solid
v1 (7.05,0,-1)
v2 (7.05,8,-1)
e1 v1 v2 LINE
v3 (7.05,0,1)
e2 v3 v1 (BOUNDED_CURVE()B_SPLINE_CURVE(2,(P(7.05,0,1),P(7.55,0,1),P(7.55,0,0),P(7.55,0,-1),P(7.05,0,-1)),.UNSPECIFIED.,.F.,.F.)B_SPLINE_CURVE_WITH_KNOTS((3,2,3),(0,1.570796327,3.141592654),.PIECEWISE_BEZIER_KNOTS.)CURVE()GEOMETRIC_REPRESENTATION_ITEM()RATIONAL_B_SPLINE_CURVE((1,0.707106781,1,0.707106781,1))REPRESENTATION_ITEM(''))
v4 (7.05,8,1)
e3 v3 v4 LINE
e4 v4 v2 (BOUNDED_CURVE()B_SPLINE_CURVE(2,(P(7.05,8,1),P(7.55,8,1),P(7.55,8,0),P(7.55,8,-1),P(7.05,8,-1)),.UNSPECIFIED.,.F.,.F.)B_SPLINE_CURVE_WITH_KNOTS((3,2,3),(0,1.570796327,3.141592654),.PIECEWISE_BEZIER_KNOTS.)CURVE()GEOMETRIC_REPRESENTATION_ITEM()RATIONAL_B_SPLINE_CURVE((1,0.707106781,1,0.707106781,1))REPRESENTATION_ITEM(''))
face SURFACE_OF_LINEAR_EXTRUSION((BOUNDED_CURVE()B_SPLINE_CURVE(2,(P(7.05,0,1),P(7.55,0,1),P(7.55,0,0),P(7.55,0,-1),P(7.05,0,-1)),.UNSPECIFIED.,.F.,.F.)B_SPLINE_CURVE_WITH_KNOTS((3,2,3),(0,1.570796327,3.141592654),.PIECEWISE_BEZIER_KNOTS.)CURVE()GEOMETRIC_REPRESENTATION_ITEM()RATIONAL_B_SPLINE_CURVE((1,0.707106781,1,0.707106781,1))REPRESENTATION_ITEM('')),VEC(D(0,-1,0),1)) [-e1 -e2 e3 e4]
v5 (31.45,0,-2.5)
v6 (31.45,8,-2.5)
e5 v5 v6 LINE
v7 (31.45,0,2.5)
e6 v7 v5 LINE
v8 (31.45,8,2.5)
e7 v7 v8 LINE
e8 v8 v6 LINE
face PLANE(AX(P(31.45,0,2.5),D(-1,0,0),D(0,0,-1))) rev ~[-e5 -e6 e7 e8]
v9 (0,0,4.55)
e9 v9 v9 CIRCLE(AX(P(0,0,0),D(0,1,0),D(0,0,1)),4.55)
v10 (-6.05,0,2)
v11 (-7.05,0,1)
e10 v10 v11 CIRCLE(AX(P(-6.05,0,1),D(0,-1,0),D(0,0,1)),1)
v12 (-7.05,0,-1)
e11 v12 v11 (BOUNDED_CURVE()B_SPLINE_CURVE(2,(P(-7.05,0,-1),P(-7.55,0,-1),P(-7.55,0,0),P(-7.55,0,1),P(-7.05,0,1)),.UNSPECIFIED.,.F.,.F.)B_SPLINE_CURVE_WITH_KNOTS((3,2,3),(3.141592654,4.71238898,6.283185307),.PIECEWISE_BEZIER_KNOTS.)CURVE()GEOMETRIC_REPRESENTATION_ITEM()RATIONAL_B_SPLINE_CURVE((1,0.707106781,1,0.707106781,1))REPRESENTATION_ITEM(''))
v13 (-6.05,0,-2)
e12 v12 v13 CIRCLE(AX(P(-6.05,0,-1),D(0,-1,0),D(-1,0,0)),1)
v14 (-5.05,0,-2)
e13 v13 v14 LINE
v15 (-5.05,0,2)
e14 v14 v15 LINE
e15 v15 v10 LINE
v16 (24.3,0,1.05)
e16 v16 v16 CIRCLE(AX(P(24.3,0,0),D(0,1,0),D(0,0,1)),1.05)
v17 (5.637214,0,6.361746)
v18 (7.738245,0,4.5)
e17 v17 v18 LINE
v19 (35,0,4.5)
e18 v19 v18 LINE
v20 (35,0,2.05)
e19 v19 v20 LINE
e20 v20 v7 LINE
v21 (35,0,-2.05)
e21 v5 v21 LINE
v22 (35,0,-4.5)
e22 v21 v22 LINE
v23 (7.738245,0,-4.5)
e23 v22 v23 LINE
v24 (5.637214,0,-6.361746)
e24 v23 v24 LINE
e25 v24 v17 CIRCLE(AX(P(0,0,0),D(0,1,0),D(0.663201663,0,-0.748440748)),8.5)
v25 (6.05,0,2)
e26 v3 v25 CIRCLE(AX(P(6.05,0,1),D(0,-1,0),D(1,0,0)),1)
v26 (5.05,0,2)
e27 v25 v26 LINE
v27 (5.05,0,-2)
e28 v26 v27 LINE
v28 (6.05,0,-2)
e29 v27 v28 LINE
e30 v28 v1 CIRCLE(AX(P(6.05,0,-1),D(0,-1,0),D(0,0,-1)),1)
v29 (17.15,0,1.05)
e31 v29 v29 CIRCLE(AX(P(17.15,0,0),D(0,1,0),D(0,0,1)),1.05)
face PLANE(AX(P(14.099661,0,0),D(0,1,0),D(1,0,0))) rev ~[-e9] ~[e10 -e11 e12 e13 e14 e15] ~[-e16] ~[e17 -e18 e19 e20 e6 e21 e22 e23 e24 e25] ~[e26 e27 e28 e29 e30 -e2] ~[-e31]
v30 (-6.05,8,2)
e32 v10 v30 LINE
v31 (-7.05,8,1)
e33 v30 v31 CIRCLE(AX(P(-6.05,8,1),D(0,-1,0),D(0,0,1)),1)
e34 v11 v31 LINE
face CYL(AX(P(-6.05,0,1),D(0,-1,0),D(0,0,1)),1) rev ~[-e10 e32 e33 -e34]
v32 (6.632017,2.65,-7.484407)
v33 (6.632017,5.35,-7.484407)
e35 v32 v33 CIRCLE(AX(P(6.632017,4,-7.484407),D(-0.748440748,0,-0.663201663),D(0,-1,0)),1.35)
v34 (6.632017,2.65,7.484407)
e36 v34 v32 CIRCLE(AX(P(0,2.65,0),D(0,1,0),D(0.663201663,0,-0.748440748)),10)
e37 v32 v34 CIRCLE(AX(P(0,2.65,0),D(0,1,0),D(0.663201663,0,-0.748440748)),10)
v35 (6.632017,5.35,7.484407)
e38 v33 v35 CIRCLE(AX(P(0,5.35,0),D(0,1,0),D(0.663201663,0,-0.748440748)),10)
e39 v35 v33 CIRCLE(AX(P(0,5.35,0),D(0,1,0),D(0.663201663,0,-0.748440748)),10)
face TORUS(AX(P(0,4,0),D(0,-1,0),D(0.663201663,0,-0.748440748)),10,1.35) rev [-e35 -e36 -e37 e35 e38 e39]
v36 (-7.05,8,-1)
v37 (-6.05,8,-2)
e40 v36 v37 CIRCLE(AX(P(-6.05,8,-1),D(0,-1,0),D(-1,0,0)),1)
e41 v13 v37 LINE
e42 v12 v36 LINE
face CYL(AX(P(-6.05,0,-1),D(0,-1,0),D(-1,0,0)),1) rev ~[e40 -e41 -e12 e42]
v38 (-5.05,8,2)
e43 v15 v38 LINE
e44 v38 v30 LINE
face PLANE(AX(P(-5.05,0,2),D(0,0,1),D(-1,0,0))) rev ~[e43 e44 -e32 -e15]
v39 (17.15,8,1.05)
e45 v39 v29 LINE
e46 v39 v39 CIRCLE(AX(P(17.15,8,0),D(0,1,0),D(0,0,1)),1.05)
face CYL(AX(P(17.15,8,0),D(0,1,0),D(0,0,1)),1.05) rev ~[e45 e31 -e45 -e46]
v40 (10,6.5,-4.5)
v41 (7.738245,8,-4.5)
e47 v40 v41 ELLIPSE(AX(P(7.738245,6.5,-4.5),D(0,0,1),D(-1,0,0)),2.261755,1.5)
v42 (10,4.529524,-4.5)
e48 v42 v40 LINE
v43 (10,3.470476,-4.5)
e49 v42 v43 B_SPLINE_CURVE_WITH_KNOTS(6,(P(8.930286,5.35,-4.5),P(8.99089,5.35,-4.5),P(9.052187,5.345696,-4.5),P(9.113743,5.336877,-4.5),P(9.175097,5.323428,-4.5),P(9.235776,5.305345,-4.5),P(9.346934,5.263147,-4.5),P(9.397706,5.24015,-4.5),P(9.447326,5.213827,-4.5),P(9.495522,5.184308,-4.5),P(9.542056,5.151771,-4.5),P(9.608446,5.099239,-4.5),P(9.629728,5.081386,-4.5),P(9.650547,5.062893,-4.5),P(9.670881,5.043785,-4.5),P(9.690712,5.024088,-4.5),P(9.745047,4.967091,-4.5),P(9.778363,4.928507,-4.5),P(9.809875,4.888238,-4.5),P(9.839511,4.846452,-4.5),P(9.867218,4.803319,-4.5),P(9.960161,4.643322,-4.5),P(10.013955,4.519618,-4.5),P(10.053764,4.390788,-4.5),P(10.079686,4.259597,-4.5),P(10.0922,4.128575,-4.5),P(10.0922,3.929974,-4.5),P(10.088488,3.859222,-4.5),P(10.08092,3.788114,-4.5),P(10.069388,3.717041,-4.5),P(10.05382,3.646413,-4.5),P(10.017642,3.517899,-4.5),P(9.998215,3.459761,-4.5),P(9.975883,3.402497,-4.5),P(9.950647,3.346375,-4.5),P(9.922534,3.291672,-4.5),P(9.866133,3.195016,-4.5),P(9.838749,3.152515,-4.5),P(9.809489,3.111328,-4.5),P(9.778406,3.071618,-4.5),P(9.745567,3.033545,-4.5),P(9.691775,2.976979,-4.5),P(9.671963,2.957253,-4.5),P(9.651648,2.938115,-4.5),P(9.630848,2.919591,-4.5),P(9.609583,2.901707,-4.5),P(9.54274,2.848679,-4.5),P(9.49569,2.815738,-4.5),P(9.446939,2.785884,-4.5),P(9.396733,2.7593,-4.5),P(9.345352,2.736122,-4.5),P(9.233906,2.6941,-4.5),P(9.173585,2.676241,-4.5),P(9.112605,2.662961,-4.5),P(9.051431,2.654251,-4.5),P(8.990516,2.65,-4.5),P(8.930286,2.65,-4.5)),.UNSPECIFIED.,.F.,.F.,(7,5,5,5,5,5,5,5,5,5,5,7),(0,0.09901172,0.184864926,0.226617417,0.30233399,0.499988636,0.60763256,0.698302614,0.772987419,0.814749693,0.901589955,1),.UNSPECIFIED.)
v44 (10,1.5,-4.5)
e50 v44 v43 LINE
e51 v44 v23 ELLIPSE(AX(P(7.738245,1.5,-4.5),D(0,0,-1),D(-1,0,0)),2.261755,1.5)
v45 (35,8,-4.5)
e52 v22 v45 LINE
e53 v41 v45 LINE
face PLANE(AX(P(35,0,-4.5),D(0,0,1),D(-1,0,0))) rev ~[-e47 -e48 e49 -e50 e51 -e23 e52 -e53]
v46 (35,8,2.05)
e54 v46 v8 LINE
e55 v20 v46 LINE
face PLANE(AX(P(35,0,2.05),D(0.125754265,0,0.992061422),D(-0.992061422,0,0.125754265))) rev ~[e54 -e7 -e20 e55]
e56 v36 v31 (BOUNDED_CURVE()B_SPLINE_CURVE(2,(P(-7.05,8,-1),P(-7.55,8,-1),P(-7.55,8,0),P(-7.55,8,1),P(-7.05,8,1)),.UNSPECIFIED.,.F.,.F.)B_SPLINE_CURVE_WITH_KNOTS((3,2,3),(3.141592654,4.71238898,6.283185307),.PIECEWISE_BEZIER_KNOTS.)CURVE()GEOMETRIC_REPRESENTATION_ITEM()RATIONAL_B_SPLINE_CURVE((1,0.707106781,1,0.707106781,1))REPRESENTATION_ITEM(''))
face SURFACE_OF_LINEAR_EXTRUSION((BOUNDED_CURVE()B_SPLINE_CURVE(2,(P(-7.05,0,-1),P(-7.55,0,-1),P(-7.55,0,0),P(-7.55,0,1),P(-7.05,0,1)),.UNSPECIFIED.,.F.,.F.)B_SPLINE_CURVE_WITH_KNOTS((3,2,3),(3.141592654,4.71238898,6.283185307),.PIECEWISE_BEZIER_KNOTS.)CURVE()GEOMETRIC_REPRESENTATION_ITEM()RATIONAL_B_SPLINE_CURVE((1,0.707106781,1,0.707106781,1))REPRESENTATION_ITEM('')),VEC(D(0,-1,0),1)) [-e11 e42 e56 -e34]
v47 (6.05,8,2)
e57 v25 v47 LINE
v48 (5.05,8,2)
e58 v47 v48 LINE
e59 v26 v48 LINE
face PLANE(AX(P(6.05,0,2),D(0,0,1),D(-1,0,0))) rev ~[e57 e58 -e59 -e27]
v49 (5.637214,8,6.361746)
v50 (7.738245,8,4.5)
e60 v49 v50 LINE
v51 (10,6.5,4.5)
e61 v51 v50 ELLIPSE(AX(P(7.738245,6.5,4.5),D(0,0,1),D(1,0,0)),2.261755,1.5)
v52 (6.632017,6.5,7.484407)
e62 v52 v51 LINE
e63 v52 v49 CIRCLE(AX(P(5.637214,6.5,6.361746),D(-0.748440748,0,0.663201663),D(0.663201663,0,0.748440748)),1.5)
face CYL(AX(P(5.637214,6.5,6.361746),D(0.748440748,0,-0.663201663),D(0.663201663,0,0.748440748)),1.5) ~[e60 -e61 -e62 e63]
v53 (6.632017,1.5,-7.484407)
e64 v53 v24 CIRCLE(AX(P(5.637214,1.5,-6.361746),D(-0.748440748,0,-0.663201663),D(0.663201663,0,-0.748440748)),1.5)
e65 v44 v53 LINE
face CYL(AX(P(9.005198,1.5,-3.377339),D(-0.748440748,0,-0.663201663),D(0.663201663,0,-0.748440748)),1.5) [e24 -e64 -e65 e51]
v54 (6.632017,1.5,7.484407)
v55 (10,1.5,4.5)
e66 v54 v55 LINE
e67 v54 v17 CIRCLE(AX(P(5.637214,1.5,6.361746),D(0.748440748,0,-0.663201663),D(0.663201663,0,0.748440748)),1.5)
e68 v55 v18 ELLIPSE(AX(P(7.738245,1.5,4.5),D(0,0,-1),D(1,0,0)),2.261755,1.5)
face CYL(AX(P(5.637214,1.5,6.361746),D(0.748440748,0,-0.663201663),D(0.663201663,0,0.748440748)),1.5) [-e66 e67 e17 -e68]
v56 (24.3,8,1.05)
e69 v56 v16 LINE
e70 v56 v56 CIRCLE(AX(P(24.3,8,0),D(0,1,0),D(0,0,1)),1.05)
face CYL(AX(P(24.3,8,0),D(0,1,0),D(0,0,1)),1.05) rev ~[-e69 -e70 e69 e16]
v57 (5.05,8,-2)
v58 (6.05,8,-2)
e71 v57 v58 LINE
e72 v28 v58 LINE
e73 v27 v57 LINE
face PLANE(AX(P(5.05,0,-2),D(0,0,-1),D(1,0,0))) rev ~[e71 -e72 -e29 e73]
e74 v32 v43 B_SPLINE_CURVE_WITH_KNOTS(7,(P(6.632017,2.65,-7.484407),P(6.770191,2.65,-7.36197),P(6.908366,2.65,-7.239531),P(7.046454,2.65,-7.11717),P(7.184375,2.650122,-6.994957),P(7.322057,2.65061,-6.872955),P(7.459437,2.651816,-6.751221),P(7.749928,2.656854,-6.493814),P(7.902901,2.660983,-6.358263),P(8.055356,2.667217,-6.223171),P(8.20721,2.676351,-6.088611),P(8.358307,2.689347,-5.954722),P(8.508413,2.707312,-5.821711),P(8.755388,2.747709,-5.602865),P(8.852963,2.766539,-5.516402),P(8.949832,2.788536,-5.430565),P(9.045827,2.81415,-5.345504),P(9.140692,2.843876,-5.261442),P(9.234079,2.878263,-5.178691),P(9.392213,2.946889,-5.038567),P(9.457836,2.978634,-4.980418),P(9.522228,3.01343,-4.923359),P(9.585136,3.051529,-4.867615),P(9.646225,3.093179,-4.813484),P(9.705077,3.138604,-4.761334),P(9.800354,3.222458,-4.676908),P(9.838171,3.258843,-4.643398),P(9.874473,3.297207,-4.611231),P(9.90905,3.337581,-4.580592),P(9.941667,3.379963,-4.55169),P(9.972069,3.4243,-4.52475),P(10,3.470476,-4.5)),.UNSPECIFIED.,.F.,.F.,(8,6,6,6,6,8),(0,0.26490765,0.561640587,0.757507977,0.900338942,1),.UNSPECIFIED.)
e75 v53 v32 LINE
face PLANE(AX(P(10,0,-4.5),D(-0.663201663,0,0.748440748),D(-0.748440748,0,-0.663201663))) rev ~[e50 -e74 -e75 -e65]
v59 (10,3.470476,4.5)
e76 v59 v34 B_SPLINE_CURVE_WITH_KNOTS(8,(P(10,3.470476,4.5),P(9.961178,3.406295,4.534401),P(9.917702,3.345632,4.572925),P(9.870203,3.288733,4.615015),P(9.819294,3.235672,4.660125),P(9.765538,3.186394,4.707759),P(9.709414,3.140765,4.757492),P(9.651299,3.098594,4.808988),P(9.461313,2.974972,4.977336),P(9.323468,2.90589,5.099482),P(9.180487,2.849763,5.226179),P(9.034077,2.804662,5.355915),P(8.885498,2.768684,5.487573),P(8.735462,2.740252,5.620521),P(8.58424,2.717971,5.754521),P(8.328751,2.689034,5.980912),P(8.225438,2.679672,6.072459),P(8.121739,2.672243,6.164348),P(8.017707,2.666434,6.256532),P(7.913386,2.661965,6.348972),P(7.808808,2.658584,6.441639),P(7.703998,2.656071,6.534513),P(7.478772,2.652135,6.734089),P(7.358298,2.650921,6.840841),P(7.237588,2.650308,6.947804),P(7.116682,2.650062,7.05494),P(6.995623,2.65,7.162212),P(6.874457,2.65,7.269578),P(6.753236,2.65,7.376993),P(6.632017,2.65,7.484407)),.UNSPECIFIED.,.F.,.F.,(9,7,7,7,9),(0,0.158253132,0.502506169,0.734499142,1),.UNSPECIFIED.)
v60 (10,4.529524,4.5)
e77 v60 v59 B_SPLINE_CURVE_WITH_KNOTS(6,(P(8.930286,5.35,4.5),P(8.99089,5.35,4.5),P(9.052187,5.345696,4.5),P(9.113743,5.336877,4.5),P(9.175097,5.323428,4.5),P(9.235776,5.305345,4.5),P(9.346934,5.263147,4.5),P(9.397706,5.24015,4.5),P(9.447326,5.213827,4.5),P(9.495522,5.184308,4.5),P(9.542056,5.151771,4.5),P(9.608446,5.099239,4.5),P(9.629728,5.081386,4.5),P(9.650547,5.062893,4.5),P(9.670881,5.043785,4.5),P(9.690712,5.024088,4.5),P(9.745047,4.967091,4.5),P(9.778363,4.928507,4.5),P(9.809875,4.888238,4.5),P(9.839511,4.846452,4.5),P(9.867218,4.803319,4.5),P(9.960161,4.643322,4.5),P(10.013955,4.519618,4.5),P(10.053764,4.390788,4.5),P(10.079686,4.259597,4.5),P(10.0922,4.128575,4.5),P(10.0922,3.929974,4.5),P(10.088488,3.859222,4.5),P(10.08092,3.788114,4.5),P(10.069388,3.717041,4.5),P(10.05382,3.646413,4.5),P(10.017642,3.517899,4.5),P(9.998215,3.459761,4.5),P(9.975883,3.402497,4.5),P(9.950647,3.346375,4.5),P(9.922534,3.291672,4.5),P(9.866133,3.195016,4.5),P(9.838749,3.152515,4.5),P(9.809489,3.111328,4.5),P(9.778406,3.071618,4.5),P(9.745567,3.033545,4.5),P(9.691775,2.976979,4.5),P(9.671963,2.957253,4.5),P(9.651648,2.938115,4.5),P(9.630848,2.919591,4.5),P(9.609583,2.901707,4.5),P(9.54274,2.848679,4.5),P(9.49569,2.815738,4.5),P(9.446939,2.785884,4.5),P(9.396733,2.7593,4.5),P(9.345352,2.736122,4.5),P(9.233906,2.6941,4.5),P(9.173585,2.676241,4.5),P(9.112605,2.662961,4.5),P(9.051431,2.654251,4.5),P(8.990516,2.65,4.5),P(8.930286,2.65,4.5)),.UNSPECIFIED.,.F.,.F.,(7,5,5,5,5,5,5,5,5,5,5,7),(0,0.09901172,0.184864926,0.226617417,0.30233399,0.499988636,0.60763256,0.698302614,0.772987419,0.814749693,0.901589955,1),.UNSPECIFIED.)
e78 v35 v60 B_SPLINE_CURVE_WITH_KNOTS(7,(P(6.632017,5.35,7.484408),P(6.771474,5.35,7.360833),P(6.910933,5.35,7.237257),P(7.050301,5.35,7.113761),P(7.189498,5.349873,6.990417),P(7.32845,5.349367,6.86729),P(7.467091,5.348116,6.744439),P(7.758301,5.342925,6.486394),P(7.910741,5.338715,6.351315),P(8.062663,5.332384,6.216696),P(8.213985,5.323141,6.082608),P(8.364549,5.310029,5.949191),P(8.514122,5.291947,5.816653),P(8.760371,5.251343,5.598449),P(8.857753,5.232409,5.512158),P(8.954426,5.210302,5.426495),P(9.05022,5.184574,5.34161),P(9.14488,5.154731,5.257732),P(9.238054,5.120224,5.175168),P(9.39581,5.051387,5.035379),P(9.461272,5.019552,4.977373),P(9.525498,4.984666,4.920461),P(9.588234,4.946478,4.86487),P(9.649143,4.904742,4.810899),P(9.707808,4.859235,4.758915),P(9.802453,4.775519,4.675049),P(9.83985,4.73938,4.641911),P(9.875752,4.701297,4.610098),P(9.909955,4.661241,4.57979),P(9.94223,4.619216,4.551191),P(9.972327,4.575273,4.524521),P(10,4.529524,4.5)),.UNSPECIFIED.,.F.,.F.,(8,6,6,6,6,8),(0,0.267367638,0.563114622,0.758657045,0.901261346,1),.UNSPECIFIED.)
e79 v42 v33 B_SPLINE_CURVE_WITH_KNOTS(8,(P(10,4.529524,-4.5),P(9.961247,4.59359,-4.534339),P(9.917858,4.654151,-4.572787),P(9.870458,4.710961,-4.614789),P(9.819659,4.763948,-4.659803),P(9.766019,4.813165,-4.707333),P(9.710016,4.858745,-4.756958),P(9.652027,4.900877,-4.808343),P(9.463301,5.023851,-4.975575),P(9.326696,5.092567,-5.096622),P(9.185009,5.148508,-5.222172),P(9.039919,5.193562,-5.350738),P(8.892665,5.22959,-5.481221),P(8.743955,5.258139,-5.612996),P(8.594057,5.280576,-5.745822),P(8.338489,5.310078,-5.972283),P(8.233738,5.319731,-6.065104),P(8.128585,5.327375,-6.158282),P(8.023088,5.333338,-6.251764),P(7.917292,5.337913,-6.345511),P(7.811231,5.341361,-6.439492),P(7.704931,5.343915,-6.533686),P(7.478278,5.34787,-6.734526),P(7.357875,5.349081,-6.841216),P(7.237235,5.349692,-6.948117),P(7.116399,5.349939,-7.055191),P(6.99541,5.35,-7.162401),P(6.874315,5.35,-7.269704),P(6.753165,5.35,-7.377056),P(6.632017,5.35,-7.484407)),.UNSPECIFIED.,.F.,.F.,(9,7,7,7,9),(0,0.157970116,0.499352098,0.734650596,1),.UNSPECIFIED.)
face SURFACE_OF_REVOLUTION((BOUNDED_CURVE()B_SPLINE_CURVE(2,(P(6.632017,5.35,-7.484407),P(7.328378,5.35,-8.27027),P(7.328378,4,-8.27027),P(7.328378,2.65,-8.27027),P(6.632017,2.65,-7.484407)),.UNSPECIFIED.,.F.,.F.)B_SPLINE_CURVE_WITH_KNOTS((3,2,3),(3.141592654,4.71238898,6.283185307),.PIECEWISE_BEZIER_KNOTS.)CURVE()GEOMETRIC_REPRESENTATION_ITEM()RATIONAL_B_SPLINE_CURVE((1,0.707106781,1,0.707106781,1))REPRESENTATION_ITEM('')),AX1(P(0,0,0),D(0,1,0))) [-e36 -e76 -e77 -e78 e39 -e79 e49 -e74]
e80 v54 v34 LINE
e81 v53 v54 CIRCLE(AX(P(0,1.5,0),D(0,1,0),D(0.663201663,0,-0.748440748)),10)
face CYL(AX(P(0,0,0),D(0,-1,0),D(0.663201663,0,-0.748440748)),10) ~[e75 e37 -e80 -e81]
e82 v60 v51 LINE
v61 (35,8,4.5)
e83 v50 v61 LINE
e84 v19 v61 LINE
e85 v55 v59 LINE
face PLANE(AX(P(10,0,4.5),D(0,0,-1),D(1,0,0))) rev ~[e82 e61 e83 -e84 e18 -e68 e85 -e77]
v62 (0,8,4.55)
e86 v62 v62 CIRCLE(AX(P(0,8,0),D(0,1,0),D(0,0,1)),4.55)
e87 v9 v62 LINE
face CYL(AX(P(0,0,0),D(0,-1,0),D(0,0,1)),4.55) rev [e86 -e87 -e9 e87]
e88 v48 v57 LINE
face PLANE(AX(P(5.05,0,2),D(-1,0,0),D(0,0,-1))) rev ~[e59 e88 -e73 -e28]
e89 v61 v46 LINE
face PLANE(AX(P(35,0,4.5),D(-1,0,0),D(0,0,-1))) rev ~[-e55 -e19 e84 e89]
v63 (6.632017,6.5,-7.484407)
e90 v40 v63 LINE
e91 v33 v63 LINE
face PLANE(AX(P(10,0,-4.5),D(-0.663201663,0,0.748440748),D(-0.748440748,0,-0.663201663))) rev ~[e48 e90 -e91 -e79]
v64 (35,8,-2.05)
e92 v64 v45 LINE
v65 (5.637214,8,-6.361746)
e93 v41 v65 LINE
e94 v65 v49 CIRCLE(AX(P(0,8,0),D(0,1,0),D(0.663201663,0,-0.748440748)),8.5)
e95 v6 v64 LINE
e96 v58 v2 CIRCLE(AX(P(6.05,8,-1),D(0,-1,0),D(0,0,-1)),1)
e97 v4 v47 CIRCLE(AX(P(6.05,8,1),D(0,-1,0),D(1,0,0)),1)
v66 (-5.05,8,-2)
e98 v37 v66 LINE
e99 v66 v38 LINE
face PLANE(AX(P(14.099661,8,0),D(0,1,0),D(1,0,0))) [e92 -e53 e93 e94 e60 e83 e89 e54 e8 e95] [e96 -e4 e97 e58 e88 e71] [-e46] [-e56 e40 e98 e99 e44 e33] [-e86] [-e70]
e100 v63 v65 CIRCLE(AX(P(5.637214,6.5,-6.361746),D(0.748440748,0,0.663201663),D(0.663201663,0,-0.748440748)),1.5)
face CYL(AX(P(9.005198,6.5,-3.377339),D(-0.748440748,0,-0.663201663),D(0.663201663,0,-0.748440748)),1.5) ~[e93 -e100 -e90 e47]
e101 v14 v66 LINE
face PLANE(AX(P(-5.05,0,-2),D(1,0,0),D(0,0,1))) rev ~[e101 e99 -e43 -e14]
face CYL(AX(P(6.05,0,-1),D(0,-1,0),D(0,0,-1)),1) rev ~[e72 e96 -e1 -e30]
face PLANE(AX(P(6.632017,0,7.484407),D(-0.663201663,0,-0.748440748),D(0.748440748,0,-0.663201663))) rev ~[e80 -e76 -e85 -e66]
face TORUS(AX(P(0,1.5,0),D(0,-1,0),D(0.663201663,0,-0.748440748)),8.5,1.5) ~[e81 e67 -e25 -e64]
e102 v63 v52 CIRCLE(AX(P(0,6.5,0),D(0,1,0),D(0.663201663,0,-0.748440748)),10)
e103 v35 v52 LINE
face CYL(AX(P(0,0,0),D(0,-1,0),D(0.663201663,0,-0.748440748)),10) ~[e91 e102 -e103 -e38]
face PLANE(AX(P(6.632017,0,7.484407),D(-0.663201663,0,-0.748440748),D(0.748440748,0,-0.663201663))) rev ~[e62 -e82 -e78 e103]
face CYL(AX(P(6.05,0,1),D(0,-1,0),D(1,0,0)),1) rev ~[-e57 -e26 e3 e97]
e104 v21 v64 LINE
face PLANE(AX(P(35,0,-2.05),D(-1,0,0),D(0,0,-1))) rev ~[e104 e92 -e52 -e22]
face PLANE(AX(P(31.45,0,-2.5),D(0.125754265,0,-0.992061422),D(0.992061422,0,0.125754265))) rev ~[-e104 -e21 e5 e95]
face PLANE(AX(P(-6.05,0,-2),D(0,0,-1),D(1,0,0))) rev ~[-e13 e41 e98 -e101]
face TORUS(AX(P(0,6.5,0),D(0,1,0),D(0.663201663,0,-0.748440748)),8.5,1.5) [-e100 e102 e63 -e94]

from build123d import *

# Parameters (mm, degrees)
SKETCH1_R           = 4.55
BOSS_EXTRUDE2_DEPTH = 8
FILLET2_R           = 1.5
SKETCH5_R           = 1.0499999999999987
CUT_EXTRUDE1_DEPTH  = 10


with BuildPart() as part:
    # Sketch1 → Boss-Extrude2 (new body)
    with BuildSketch(Plane(origin=(0, 0, 0), x_dir=(1, 0, 0), z_dir=(0, 1, 0))):
        with BuildLine():
            Line((9.999999999999998, 4.499999999999999), (6.632016632016632, 7.484407484407484))
            ThreePointArc((6.632016632016632, 7.484407484407484), (-10, 5.67e-15), (6.6320166320166285, -7.484407484407485))
            Line((6.6320166320166285, -7.484407484407485), (10, -4.500000000000002))
            Line((10, -4.500000000000002), (35, -4.500000000000001))
            Line((35, -4.500000000000001), (35, -2.0499999999999954))
            Line((35, -2.0499999999999954), (31.450000000000006, -2.5000000000000004))
            Line((31.450000000000006, -2.5000000000000004), (31.450000000000006, 2.4999999999999987))
            Line((31.450000000000006, 2.4999999999999987), (35, 2.0499999999999954))
            Line((35, 2.0499999999999954), (35, 4.499999999999999))
            Line((35, 4.499999999999999), (9.999999999999998, 4.499999999999999))
        make_face()
        with Locations(Location((0, 0, 0), (0, 0, 270))):
            Circle(SKETCH1_R, mode=Mode.SUBTRACT)
        with BuildLine():
            Line((5.050000000000003, 2.0000000000000013), (6.050000000000003, 2.0000000000000013))
            ThreePointArc((6.050000000000003, 2.0000000000000013), (6.75710678118655, 1.7071067811865483), (7.0500000000000025, 1.000000000000001))
            add(Edge.make_bspline(
                [(7.0500000000000025, -0.9999999999999968), (7.5500000000000025, -0.9999999999999982), (7.5500000000000025, 1.34e-15), (7.550000000000002, 1.0000000000000009), (7.0500000000000025, 1.000000000000001)],
                knots=[0, 0, 0, 1.5707963267948966, 1.5707963267948966, 3.141592653589793, 3.141592653589793, 3.141592653589793], degree=2, weights=[1, 0.7071067811865476, 1, 0.7071067811865476, 1]))
            ThreePointArc((7.0500000000000025, -0.9999999999999968), (6.75710678118655, -1.707106781186544), (6.050000000000004, -1.9999999999999971))
            Line((6.050000000000004, -1.9999999999999971), (5.050000000000004, -1.9999999999999978))
            Line((5.050000000000004, -1.9999999999999978), (5.050000000000003, 2.0000000000000013))
        make_face(mode=Mode.SUBTRACT)
        with BuildLine():
            Line((-5.050000000000001, -2), (-6.050000000000001, -2))
            ThreePointArc((-6.050000000000001, -2), (-6.757106781186548, -1.7071067811865477), (-7.050000000000001, -1.0000000000000002))
            add(Edge.make_bspline(
                [(-7.050000000000001, 0.9999999999999993), (-7.550000000000002, 0.9999999999999994), (-7.550000000000001, -3.6e-16), (-7.550000000000001, -1), (-7.050000000000001, -1.0000000000000002)],
                knots=[3.141592653589793, 3.141592653589793, 3.141592653589793, 4.71238898038469, 4.71238898038469, 6.283185307179586, 6.283185307179586, 6.283185307179586], degree=2, weights=[1, 0.7071067811865476, 1, 0.7071067811865476, 1]))
            ThreePointArc((-7.050000000000001, 0.9999999999999993), (-6.757106781186549, 1.7071067811865468), (-6.050000000000002, 2))
            Line((-6.050000000000002, 2), (-5.050000000000002, 2))
            Line((-5.050000000000002, 2), (-5.050000000000001, -2))
        make_face(mode=Mode.SUBTRACT)
    extrude(amount=BOSS_EXTRUDE2_DEPTH)

    # Fillet2
    fillet2_edges = [part.edges().sort_by_distance(p)[0] for p in [
        (8.316008316008315, 8, -5.992203742203742),
        (8.316008316008315, 0, -5.992203742203742),
        (-10, 0, -1.33e-15),
        (8.316008316008315, 0, 5.992203742203744),
        (8.316008316008315, 8, 5.992203742203744),
        (-10, 8, -1.33e-15),
    ]]
    fillet(fillet2_edges, radius=FILLET2_R)

    # Sketch5 → Cut-Extrude1 (cut)
    with BuildSketch(Plane(origin=(0, 8, 0), x_dir=(1, 0, 0), z_dir=(0, 1, 0))):
        with Locations(Location((17.15, 0, 0), (0, 0, 270))):
            Circle(SKETCH5_R)
        with Locations(Location((24.300000000000004, 0, 0), (0, 0, 270))):
            Circle(SKETCH5_R)
    extrude(amount=-CUT_EXTRUDE1_DEPTH, mode=Mode.SUBTRACT)

    # Sketch4 → Cut-Revolve1 (revolve, cut)
    with BuildSketch(Plane(origin=(-6.666818896321271, 16.53530046448365, 0), x_dir=(0, 1, 0), z_dir=(0, 0, 1)), mode=Mode.PRIVATE) as cut_revolve1_sk:
        with BuildLine():
            ThreePointArc((-13.885300464483652, 3.3331811036787276), (-12.535300464483653, 1.983181103678728), (-11.185300464483651, 3.3331811036787284))
            add(Edge.make_bspline(
                [(-11.185300464483651, 3.3331811036787284), (-11.185300464483655, 4.383181103678727), (-12.535300464483653, 4.383181103678727), (-13.885300464483652, 4.383181103678727), (-13.885300464483652, 3.3331811036787276)],
                knots=[3.141592653589794, 3.141592653589794, 3.141592653589794, 4.71238898038469, 4.71238898038469, 6.283185307179586, 6.283185307179586, 6.283185307179586], degree=2, weights=[1, 0.7071067811865477, 1, 0.7071067811865477, 1]))
        make_face()
    revolve(cut_revolve1_sk.sketch.rotate(Axis((0, 0, 0), (0, 1, 0)), 228.455490636), axis=Axis((0, 0, 0), (0, 1, 0)), mode=Mode.SUBTRACT)


solid = part.part
